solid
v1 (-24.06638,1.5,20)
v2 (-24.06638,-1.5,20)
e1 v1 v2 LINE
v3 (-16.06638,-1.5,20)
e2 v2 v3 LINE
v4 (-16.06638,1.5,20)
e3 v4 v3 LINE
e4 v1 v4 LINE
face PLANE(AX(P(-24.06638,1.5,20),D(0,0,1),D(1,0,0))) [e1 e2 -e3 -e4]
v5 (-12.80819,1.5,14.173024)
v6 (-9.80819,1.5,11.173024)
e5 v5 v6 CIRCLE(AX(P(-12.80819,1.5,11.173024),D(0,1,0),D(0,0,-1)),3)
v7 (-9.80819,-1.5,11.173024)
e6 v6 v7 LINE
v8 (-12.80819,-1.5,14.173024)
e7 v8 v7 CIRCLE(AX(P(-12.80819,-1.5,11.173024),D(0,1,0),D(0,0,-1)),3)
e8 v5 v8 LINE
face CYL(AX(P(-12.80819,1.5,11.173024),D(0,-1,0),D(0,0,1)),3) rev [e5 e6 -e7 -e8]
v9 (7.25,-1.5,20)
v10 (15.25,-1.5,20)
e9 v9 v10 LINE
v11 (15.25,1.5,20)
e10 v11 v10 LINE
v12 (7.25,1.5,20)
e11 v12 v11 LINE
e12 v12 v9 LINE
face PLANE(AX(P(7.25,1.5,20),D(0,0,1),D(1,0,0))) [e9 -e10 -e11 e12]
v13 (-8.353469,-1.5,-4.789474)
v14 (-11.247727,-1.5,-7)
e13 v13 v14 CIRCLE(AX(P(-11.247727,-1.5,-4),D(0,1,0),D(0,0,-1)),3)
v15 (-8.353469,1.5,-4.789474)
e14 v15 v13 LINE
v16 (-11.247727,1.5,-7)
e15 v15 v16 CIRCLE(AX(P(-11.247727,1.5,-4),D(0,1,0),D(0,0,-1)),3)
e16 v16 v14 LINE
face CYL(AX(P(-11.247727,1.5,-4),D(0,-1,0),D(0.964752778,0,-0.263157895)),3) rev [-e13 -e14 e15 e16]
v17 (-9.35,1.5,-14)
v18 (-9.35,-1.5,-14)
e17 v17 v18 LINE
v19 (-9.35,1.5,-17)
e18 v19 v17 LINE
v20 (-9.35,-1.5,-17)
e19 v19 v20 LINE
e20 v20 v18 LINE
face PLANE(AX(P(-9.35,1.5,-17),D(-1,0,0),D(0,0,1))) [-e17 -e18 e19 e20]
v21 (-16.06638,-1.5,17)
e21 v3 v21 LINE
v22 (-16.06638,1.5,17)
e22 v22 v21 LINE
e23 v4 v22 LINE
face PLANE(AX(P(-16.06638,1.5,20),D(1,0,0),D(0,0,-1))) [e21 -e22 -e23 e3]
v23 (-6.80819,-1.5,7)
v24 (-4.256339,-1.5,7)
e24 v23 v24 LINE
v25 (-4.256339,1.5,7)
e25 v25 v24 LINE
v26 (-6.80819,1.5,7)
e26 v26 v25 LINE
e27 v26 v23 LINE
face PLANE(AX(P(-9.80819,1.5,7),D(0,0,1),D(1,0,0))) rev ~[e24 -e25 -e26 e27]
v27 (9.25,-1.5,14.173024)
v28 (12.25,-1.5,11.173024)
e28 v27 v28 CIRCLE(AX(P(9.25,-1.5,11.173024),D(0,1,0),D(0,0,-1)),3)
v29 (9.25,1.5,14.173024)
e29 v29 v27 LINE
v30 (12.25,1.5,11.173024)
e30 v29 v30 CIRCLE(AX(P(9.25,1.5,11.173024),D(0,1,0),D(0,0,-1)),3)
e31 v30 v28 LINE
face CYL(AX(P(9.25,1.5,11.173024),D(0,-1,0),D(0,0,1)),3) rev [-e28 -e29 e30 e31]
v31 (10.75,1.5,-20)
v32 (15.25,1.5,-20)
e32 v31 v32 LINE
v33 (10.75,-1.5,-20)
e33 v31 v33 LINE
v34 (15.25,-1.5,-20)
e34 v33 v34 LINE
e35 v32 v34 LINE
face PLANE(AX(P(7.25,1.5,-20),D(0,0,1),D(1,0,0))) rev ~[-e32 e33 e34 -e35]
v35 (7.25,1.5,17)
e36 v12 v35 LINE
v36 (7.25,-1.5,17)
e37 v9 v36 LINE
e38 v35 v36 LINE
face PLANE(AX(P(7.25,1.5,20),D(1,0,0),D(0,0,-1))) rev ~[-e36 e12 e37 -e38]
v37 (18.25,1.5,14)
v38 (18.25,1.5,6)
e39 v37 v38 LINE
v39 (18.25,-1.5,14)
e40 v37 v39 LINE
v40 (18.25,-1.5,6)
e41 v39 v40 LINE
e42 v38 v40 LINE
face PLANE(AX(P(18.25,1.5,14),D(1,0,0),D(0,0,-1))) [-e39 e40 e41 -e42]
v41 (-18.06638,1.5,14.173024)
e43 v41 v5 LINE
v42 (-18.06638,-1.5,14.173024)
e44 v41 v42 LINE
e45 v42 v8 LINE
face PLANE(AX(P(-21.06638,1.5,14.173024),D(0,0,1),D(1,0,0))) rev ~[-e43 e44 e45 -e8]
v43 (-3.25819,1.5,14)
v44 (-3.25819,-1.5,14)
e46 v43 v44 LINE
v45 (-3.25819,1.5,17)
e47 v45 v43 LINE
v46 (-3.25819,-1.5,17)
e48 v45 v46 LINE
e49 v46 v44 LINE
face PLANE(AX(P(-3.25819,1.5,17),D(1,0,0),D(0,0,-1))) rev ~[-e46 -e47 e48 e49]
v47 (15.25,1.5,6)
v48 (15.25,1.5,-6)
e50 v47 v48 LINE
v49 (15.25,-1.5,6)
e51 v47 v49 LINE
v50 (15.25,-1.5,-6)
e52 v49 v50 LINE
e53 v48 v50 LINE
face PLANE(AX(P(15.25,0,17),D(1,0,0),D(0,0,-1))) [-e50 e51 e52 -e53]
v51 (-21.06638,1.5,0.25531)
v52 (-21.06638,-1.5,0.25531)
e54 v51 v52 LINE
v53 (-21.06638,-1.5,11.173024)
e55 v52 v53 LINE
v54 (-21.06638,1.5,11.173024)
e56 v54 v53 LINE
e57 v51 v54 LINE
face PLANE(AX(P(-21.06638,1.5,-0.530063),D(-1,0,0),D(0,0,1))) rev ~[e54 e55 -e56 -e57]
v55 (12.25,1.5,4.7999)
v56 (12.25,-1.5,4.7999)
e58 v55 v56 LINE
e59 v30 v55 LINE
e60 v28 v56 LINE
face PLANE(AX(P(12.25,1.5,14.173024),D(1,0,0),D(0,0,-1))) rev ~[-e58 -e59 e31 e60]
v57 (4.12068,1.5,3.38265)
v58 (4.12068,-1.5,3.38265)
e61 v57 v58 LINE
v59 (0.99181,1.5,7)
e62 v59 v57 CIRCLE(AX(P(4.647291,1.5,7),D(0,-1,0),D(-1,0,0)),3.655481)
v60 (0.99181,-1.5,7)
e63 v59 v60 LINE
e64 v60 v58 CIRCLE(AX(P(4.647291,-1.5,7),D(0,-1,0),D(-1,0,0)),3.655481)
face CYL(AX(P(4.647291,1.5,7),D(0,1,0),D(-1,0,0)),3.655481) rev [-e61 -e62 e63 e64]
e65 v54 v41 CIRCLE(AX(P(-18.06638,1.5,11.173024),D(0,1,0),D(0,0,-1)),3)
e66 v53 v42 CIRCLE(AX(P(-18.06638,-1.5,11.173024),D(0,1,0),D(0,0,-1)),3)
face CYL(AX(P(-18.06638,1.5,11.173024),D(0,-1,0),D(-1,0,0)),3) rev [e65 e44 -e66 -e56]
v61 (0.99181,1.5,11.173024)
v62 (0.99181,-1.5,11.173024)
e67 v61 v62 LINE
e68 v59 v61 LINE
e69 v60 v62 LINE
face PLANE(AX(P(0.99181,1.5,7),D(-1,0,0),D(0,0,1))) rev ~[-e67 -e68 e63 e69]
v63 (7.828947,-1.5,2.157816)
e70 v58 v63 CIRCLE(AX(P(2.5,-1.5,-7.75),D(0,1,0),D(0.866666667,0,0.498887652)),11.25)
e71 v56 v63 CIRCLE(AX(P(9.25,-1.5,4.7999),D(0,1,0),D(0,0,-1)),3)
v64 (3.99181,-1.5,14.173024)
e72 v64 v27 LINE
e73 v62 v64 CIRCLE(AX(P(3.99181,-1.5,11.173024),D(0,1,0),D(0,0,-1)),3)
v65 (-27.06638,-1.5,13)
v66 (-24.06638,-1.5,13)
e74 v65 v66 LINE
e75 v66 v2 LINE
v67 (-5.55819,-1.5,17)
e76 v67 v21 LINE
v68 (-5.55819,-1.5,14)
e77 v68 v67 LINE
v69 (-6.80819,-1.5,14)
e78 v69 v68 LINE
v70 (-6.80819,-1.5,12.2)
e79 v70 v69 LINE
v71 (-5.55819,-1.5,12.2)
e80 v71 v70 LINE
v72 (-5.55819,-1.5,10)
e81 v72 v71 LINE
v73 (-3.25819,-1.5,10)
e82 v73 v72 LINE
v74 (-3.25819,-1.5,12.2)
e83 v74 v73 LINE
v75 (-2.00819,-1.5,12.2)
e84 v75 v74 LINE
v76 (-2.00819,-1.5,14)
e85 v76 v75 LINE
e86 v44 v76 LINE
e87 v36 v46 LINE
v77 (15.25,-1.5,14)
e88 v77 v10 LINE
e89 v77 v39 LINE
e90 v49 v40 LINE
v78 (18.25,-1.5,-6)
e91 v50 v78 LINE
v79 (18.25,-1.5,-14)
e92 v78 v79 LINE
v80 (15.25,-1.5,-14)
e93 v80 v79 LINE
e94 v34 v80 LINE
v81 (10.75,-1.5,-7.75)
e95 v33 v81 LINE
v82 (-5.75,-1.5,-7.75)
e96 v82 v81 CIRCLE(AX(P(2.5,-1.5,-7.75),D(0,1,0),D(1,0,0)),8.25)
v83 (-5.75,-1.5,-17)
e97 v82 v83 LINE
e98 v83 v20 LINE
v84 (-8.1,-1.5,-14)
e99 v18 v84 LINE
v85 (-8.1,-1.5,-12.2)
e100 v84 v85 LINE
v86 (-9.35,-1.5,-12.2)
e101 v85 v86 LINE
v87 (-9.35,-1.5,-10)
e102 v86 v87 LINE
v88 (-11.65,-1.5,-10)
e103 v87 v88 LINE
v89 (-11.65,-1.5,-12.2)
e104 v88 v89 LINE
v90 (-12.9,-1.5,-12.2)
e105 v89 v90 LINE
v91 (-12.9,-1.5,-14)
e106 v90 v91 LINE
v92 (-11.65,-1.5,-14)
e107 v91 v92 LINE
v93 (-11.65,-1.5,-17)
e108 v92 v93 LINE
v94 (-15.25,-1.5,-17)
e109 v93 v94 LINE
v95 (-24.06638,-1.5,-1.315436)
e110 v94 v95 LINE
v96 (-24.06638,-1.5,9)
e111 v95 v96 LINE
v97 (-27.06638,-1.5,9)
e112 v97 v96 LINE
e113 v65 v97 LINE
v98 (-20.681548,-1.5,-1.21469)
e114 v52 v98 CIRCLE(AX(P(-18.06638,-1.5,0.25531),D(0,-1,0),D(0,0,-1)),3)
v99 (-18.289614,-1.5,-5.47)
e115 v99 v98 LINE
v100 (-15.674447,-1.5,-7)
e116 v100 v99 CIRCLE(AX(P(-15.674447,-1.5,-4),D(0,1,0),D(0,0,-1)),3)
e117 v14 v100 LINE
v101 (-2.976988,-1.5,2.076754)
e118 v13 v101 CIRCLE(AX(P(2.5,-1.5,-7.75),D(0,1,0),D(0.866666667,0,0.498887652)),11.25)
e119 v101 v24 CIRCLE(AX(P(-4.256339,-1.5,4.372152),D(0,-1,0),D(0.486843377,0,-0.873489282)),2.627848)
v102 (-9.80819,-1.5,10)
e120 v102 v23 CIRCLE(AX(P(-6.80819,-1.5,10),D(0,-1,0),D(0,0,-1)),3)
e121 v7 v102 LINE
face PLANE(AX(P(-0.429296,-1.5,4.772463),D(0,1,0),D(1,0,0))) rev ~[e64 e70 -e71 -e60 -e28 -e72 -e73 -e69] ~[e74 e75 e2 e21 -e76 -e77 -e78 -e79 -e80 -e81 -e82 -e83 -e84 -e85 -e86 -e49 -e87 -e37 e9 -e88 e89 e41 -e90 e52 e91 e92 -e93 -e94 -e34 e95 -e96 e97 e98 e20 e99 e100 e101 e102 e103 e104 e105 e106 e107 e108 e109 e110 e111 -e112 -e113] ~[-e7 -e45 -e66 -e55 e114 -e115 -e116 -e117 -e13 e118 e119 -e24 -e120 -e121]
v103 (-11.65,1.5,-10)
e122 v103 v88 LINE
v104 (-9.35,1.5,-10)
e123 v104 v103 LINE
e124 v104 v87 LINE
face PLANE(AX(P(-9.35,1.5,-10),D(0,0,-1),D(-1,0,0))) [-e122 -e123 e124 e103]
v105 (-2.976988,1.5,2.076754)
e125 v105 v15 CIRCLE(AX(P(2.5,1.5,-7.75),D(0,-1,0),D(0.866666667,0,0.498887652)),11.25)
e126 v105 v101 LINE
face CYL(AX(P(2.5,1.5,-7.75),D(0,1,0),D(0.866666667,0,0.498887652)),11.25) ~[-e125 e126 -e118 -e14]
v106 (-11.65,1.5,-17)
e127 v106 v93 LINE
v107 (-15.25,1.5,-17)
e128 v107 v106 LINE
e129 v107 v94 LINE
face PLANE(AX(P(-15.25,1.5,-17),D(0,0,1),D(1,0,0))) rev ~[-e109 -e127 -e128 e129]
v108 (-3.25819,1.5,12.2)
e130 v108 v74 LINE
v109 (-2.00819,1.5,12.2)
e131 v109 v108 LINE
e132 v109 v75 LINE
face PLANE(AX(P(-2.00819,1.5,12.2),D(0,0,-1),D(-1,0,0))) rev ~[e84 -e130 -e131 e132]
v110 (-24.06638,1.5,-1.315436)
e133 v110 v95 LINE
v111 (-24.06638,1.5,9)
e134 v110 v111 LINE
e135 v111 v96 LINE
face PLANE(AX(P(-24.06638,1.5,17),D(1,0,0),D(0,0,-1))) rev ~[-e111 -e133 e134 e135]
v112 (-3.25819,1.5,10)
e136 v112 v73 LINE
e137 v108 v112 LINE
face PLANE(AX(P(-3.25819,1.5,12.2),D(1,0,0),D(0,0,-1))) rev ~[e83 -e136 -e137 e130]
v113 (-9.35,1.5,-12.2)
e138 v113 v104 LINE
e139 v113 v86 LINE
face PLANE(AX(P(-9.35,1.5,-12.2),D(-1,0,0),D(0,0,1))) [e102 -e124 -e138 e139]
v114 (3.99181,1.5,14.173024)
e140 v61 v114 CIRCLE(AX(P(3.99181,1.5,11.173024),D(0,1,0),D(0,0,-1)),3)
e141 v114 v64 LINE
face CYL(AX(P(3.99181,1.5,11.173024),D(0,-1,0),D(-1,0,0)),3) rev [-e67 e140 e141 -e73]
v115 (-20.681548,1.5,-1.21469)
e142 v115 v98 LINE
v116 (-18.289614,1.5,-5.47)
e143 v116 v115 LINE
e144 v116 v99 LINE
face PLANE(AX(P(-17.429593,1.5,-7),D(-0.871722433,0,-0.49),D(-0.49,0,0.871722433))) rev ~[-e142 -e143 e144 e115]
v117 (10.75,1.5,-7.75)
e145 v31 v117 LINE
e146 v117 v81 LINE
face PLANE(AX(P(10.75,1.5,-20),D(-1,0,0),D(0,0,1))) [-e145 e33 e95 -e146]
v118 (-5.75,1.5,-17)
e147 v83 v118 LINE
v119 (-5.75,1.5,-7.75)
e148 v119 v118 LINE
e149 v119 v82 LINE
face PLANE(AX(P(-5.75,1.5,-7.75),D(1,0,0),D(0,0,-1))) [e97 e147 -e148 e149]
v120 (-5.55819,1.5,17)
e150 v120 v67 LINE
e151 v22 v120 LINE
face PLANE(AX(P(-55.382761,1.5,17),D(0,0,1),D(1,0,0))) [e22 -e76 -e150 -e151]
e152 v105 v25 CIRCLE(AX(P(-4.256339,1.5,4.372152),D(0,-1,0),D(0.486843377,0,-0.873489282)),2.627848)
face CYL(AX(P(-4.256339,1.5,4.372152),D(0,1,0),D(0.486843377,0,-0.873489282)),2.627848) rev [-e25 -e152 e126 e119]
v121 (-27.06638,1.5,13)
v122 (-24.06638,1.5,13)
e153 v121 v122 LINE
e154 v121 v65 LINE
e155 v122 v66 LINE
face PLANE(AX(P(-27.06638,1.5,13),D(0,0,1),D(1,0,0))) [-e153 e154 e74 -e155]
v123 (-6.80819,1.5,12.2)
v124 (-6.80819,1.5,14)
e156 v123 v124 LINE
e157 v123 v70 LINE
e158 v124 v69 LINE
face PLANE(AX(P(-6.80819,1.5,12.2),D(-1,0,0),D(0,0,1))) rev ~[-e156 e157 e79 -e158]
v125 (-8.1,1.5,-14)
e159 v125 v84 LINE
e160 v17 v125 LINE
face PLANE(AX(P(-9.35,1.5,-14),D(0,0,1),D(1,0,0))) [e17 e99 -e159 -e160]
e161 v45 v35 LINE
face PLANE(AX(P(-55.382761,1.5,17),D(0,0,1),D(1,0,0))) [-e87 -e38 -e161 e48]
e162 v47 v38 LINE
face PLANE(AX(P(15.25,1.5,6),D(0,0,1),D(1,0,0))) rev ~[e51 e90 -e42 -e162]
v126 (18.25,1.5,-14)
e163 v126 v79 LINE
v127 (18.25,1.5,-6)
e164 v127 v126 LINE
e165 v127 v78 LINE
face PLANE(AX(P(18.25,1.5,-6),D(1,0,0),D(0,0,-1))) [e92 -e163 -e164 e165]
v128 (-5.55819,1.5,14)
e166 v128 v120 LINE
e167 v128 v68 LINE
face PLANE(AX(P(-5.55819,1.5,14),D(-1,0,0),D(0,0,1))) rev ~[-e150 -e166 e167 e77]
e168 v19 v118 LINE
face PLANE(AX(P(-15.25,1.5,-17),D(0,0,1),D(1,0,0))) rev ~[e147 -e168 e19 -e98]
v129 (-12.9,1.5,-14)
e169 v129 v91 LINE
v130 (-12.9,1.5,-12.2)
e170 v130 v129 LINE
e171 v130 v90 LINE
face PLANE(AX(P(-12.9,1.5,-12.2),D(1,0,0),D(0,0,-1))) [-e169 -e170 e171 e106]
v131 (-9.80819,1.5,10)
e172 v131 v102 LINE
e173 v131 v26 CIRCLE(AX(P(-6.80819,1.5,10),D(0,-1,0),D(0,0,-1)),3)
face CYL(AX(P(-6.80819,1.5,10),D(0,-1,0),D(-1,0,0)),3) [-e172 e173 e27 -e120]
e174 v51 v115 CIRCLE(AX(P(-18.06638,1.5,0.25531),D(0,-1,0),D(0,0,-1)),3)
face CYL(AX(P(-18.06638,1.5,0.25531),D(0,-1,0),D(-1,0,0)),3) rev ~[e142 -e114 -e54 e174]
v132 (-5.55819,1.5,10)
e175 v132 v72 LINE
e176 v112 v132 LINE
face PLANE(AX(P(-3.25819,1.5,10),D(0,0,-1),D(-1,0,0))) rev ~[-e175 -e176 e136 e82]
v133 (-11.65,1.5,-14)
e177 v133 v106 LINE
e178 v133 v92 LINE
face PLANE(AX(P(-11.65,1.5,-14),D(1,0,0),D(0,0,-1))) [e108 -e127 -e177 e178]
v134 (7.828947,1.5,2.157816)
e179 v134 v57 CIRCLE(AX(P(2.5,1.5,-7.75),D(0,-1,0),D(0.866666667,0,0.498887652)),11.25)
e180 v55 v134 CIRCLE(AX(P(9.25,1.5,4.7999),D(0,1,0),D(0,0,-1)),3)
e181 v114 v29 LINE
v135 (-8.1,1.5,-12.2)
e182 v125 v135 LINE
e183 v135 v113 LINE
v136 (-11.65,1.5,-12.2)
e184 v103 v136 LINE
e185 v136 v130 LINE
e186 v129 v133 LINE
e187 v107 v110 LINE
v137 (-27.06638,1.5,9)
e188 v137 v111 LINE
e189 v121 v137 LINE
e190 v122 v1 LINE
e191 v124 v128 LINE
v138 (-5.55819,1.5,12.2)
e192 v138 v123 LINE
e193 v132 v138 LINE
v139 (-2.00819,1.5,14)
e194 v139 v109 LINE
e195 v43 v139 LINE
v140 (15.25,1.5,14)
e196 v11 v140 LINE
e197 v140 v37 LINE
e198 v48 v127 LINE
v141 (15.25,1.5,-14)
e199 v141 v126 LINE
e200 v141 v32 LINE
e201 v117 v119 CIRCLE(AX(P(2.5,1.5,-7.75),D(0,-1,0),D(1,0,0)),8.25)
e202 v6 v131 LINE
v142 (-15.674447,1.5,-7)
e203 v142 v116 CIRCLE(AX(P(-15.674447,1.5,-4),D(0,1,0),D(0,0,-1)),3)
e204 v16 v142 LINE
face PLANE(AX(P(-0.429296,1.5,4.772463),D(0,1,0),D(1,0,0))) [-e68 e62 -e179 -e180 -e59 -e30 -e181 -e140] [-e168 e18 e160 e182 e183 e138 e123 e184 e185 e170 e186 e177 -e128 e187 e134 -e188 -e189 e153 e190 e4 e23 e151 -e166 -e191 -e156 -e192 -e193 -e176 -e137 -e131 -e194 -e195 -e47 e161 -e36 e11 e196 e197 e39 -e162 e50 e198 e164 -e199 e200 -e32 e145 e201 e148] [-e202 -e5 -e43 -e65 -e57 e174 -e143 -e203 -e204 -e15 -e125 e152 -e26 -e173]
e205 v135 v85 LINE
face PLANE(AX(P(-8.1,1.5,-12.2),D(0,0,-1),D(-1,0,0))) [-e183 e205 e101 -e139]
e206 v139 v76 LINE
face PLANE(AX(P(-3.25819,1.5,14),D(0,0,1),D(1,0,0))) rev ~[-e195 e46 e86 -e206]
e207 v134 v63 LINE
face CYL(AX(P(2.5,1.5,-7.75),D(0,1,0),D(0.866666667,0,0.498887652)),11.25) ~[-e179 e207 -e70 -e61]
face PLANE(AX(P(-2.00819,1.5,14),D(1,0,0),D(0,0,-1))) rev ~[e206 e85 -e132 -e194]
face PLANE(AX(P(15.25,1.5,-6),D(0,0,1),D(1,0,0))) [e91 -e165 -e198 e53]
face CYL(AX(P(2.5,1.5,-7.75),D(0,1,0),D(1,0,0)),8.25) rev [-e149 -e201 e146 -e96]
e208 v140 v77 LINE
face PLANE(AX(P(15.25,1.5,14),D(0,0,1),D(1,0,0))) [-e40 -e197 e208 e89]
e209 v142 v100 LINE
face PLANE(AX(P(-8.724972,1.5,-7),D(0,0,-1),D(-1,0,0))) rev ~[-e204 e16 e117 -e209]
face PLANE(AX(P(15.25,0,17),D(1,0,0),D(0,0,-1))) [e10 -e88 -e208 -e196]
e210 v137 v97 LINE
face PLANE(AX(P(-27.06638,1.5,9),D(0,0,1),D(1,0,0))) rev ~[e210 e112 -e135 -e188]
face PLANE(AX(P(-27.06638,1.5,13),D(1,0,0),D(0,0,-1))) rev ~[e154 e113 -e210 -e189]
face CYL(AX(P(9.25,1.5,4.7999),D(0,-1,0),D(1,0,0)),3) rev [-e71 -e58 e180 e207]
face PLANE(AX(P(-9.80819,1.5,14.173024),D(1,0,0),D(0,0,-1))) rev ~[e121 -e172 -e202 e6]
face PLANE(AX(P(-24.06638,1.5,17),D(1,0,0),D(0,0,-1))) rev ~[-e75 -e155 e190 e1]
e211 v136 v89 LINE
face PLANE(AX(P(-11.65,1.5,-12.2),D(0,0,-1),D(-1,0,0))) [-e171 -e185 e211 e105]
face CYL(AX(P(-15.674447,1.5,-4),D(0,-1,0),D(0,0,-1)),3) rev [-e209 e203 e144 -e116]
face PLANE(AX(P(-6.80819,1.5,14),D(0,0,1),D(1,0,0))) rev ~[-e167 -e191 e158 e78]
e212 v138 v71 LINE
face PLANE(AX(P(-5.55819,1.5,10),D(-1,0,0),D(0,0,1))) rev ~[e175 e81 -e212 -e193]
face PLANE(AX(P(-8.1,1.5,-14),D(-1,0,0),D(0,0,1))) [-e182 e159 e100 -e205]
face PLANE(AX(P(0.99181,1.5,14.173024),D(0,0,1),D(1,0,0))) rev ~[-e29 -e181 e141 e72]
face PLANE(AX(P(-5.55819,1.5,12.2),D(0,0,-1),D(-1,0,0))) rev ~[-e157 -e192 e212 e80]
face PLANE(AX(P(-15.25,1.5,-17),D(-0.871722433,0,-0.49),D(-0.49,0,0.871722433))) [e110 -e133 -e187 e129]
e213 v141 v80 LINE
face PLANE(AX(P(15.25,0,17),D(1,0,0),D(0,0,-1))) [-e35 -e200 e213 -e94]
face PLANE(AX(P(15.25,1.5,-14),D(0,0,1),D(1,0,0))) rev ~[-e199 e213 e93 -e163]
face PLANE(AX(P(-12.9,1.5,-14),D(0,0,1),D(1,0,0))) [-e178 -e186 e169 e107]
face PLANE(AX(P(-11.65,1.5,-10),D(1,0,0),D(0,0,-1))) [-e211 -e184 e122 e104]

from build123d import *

# Parameters (mm, degrees)
SKETCH1_W           = 30.5
SKETCH1_H           = 34
BOSS_EXTRUDE1_DEPTH = 1.5
BOSS_EXTRUDE2_DEPTH = 3
SKETCH3_W           = 3
SKETCH3_H           = 8
SKETCH3_W_2         = 8
SKETCH3_H_2         = 3
BOSS_EXTRUDE3_DEPTH = 3
CUT_EXTRUDE1_DEPTH  = 4.0000001
CUT_EXTRUDE2_DEPTH  = 4.0000001
SKETCH6_W           = 8
SKETCH6_H           = 3
CUT_EXTRUDE3_DEPTH  = 4.0000001
CUT_EXTRUDE4_DEPTH  = 4.0000001
CUT_EXTRUDE6_DEPTH  = 4.0000001
SKETCH9_W           = 3
SKETCH9_H           = 4
BOSS_EXTRUDE4_DEPTH = 3
CUT_EXTRUDE7_DEPTH  = 4
FILLET1_R           = 3
BOSS_EXTRUDE5_DEPTH = 3


with BuildPart() as part:
    # Sketch1 → Boss-Extrude1 (new body, symmetric)
    with BuildSketch(Plane(origin=(0, 0, 0), x_dir=(1, 0, 0), z_dir=(0, 1, 0))):
        Rectangle(SKETCH1_W, SKETCH1_H)
    extrude(amount=BOSS_EXTRUDE1_DEPTH, both=True)

    # Sketch2 → Boss-Extrude2 (add)
    with BuildSketch(Plane(origin=(0, 1.5, 0), x_dir=(1, 0, 0), z_dir=(0, 1, 0))):
        with BuildLine():
            Line((-15.25, 17), (-24.07, 1.308996208))
            add(Edge.make_bspline(
                [(-24.07, 1.308996208), (-25.612124036, -1.43448158), (-30.226003395, -1.5229993), (-46.69780929, -11.088418218), (-55.382760657, -10.307171359), (-55.382760657, -17)],
                knots=[0, 0, 0, 0, 0.221130071, 0.603599568, 1, 1, 1, 1], degree=3))
            Line((-55.382760657, -17), (-15.25, -17))
            Line((-15.25, -17), (-15.25, 17))
        make_face()
    extrude(amount=-BOSS_EXTRUDE2_DEPTH)

    # Sketch3 → Boss-Extrude3 (add)
    with BuildSketch(Plane(origin=(0, 1.5, 0), x_dir=(1, 0, 0), z_dir=(0, 1, 0))):
        with Locations((16.75, 10)):
            Rectangle(SKETCH3_W, SKETCH3_H)
        with Locations((16.75, -10)):
            Rectangle(SKETCH3_W, SKETCH3_H)
        with Locations((-11.25, 18.5)):
            Rectangle(SKETCH3_W_2, SKETCH3_H_2)
        with Locations((11.25, 18.5)):
            Rectangle(SKETCH3_W_2, SKETCH3_H_2)
        with Locations((-51.382760657, -18.5)):
            Rectangle(SKETCH3_W_2, SKETCH3_H_2)
        with Locations((11.25, -18.5)):
            Rectangle(SKETCH3_W_2, SKETCH3_H_2)
        with Locations((-20.066380328, -18.5)):
            Rectangle(SKETCH3_W_2, SKETCH3_H_2)
    extrude(amount=-BOSS_EXTRUDE3_DEPTH)

    # Sketch4 → Cut-Extrude1 (cut, through all)
    with BuildSketch(Plane(origin=(0, 1.5, 0), x_dir=(1, 0, 0), z_dir=(0, 1, 0))):
        Polygon((-2.008190164, -14), (-2.008190164, -12.2), (-3.258190164, -12.2), (-3.258190164, -10), (-5.558190164, -10), (-5.558190164, -12.2), (-6.808190164, -12.2), (-6.808190164, -14), (-5.558190164, -14), (-5.558190164, -17), (-3.258190164, -17), (-3.258190164, -14), align=None)
        Polygon((-33.324570493, -14), (-33.324570493, -12.2), (-34.574570493, -12.2), (-34.574570493, -10), (-36.874570493, -10), (-36.874570493, -12.2), (-38.124570493, -12.2), (-38.124570493, -14), (-36.874570493, -14), (-36.874570493, -17), (-34.574570493, -17), (-34.574570493, -14), align=None)
    extrude(amount=-CUT_EXTRUDE1_DEPTH, mode=Mode.SUBTRACT)

    # Sketch5 → Cut-Extrude2 (cut, through all)
    with BuildSketch(Plane(origin=(0, 1.5, 0), x_dir=(1, 0, 0), z_dir=(0, 1, 0))):
        with BuildLine():
            Line((10.75, 20), (10.75, 7.75))
            ThreePointArc((10.75, 7.75), (2.5, -0.5), (-5.75, 7.75))
            Line((-5.75, 7.75), (-5.75, 20))
            Line((-5.75, 20), (10.75, 20))
        make_face()
    extrude(amount=-CUT_EXTRUDE2_DEPTH, mode=Mode.SUBTRACT)

    # Sketch6 → Cut-Extrude3 (cut, through all)
    with BuildSketch(Plane(origin=(0, 1.5, 0), x_dir=(1, 0, 0), z_dir=(0, 1, 0))):
        with Locations((-11.25, 18.5)):
            Rectangle(SKETCH6_W, SKETCH6_H)
    extrude(amount=-CUT_EXTRUDE3_DEPTH, mode=Mode.SUBTRACT)

    # Sketch7 → Cut-Extrude4 (cut, through all)
    with BuildSketch(Plane(origin=(0, 1.5, 0), x_dir=(1, 0, 0), z_dir=(0, 1, 0))):
        Polygon((-11.65, 17), (-9.35, 17), (-9.35, 14), (-8.1, 14), (-8.1, 12.2), (-9.35, 12.2), (-9.35, 10), (-11.65, 10), (-11.65, 12.2), (-12.9, 12.2), (-12.9, 14), (-11.65, 14), align=None)
    extrude(amount=-CUT_EXTRUDE4_DEPTH, mode=Mode.SUBTRACT)

    # Sketch8 → Cut-Extrude6 (cut, through all)
    with BuildSketch(Plane(origin=(0, 1.5, 0), x_dir=(1, 0, 0), z_dir=(0, 1, 0))):
        with BuildLine():
            Line((-24.066380328, -17), (-24.066380328, 1.315435696))
            Line((-24.066380328, 1.315435696), (-24.07, 1.308996208))
            add(Edge.make_bspline(
                [(-24.07, 1.308996208), (-25.612124036, -1.43448158), (-30.226003395, -1.5229993), (-46.69780929, -11.088418218), (-55.382760657, -10.307171359), (-55.382760657, -17)],
                knots=[0, 0, 0, 0, 0.221130071, 0.603599568, 1, 1, 1, 1], degree=3))
            Line((-55.382760657, -17), (-55.382760657, -20))
            Line((-55.382760657, -20), (-47.382760657, -20))
            Line((-47.382760657, -20), (-47.382760657, -17))
            Line((-47.382760657, -17), (-36.874570493, -17))
            Line((-36.874570493, -17), (-36.874570493, -14))
            Line((-36.874570493, -14), (-38.124570493, -14))
            Line((-38.124570493, -14), (-38.124570493, -12.2))
            Line((-38.124570493, -12.2), (-36.874570493, -12.2))
            Line((-36.874570493, -12.2), (-36.874570493, -10))
            Line((-36.874570493, -10), (-34.574570493, -10))
            Line((-34.574570493, -10), (-34.574570493, -12.2))
            Line((-34.574570493, -12.2), (-33.324570493, -12.2))
            Line((-33.324570493, -12.2), (-33.324570493, -14))
            Line((-33.324570493, -14), (-34.574570493, -14))
            Line((-34.574570493, -14), (-34.574570493, -17))
            Line((-34.574570493, -17), (-24.066380328, -17))
        make_face()
    extrude(amount=-CUT_EXTRUDE6_DEPTH, mode=Mode.SUBTRACT)

    # Sketch9 → Boss-Extrude4 (add)
    with BuildSketch(Plane(origin=(0, 1.5, 0), x_dir=(1, 0, 0), z_dir=(0, 1, 0))):
        with Locations((-25.566380328, -11)):
            Rectangle(SKETCH9_W, SKETCH9_H)
    extrude(amount=-BOSS_EXTRUDE4_DEPTH)

    # Sketch10 → Cut-Extrude7 (cut, through all)
    with BuildSketch(Plane(origin=(0, 1.5, 0), x_dir=(1, 0, 0), z_dir=(0, 1, 0))):
        with BuildLine():
            Line((-21.066380328, 0.530062836), (-21.066380328, -14.173024042))
            Line((-21.066380328, -14.173024042), (-9.808190164, -14.173024042))
            Line((-9.808190164, -14.173024042), (-9.808190164, -7))
            Line((-9.808190164, -7), (0.991809836, -7))
            Line((0.991809836, -7), (0.991809836, -14.173024042))
            Line((0.991809836, -14.173024042), (12.25, -14.173024042))
            Line((12.25, -14.173024042), (12.25, 2.13751392))
            ThreePointArc((12.25, 2.13751392), (-0.04063544, -3.20936456), (-8.72497216, 7))
            Line((-8.72497216, 7), (-17.429592871, 7))
            Line((-17.429592871, 7), (-21.066380328, 0.530062836))
        make_face()
    extrude(amount=-CUT_EXTRUDE7_DEPTH, mode=Mode.SUBTRACT)

    # Fillet1
    fillet1_edges = [part.edges().sort_by_distance(p)[0] for p in [
        (-21.066380328, 0, -0.530062836),
        (-17.429592871, 0, -7),
        (-8.72497216, 0, -7),
        (12.25, 0, -2.13751392),
        (12.25, 0, 14.173024042),
        (0.991809836, 0, 14.173024042),
        (-9.808190164, 0, 7),
        (-9.808190164, 0, 14.173024042),
        (-21.066380328, 0, 14.173024042),
    ]]
    fillet(fillet1_edges, radius=FILLET1_R)

    # Sketch11 → Boss-Extrude5 (add)
    with BuildSketch(Plane(origin=(0, 1.5, 0), x_dir=(1, 0, 0), z_dir=(0, 1, 0))):
        with BuildLine():
            Line((-4.256338517, -7), (0.991809836, -7))
            ThreePointArc((0.991809836, -7), (1.882552513, -4.608606487), (4.120680317, -3.382649968))
            ThreePointArc((4.120680317, -3.382649968), (0.464289311, -3.31428407), (-2.97698799, -2.076754426))
            ThreePointArc((-2.97698799, -2.076754426), (-1.712960608, -5.03307181), (-4.256338517, -7))
        make_face()
    extrude(amount=-BOSS_EXTRUDE5_DEPTH)


solid = part.part
